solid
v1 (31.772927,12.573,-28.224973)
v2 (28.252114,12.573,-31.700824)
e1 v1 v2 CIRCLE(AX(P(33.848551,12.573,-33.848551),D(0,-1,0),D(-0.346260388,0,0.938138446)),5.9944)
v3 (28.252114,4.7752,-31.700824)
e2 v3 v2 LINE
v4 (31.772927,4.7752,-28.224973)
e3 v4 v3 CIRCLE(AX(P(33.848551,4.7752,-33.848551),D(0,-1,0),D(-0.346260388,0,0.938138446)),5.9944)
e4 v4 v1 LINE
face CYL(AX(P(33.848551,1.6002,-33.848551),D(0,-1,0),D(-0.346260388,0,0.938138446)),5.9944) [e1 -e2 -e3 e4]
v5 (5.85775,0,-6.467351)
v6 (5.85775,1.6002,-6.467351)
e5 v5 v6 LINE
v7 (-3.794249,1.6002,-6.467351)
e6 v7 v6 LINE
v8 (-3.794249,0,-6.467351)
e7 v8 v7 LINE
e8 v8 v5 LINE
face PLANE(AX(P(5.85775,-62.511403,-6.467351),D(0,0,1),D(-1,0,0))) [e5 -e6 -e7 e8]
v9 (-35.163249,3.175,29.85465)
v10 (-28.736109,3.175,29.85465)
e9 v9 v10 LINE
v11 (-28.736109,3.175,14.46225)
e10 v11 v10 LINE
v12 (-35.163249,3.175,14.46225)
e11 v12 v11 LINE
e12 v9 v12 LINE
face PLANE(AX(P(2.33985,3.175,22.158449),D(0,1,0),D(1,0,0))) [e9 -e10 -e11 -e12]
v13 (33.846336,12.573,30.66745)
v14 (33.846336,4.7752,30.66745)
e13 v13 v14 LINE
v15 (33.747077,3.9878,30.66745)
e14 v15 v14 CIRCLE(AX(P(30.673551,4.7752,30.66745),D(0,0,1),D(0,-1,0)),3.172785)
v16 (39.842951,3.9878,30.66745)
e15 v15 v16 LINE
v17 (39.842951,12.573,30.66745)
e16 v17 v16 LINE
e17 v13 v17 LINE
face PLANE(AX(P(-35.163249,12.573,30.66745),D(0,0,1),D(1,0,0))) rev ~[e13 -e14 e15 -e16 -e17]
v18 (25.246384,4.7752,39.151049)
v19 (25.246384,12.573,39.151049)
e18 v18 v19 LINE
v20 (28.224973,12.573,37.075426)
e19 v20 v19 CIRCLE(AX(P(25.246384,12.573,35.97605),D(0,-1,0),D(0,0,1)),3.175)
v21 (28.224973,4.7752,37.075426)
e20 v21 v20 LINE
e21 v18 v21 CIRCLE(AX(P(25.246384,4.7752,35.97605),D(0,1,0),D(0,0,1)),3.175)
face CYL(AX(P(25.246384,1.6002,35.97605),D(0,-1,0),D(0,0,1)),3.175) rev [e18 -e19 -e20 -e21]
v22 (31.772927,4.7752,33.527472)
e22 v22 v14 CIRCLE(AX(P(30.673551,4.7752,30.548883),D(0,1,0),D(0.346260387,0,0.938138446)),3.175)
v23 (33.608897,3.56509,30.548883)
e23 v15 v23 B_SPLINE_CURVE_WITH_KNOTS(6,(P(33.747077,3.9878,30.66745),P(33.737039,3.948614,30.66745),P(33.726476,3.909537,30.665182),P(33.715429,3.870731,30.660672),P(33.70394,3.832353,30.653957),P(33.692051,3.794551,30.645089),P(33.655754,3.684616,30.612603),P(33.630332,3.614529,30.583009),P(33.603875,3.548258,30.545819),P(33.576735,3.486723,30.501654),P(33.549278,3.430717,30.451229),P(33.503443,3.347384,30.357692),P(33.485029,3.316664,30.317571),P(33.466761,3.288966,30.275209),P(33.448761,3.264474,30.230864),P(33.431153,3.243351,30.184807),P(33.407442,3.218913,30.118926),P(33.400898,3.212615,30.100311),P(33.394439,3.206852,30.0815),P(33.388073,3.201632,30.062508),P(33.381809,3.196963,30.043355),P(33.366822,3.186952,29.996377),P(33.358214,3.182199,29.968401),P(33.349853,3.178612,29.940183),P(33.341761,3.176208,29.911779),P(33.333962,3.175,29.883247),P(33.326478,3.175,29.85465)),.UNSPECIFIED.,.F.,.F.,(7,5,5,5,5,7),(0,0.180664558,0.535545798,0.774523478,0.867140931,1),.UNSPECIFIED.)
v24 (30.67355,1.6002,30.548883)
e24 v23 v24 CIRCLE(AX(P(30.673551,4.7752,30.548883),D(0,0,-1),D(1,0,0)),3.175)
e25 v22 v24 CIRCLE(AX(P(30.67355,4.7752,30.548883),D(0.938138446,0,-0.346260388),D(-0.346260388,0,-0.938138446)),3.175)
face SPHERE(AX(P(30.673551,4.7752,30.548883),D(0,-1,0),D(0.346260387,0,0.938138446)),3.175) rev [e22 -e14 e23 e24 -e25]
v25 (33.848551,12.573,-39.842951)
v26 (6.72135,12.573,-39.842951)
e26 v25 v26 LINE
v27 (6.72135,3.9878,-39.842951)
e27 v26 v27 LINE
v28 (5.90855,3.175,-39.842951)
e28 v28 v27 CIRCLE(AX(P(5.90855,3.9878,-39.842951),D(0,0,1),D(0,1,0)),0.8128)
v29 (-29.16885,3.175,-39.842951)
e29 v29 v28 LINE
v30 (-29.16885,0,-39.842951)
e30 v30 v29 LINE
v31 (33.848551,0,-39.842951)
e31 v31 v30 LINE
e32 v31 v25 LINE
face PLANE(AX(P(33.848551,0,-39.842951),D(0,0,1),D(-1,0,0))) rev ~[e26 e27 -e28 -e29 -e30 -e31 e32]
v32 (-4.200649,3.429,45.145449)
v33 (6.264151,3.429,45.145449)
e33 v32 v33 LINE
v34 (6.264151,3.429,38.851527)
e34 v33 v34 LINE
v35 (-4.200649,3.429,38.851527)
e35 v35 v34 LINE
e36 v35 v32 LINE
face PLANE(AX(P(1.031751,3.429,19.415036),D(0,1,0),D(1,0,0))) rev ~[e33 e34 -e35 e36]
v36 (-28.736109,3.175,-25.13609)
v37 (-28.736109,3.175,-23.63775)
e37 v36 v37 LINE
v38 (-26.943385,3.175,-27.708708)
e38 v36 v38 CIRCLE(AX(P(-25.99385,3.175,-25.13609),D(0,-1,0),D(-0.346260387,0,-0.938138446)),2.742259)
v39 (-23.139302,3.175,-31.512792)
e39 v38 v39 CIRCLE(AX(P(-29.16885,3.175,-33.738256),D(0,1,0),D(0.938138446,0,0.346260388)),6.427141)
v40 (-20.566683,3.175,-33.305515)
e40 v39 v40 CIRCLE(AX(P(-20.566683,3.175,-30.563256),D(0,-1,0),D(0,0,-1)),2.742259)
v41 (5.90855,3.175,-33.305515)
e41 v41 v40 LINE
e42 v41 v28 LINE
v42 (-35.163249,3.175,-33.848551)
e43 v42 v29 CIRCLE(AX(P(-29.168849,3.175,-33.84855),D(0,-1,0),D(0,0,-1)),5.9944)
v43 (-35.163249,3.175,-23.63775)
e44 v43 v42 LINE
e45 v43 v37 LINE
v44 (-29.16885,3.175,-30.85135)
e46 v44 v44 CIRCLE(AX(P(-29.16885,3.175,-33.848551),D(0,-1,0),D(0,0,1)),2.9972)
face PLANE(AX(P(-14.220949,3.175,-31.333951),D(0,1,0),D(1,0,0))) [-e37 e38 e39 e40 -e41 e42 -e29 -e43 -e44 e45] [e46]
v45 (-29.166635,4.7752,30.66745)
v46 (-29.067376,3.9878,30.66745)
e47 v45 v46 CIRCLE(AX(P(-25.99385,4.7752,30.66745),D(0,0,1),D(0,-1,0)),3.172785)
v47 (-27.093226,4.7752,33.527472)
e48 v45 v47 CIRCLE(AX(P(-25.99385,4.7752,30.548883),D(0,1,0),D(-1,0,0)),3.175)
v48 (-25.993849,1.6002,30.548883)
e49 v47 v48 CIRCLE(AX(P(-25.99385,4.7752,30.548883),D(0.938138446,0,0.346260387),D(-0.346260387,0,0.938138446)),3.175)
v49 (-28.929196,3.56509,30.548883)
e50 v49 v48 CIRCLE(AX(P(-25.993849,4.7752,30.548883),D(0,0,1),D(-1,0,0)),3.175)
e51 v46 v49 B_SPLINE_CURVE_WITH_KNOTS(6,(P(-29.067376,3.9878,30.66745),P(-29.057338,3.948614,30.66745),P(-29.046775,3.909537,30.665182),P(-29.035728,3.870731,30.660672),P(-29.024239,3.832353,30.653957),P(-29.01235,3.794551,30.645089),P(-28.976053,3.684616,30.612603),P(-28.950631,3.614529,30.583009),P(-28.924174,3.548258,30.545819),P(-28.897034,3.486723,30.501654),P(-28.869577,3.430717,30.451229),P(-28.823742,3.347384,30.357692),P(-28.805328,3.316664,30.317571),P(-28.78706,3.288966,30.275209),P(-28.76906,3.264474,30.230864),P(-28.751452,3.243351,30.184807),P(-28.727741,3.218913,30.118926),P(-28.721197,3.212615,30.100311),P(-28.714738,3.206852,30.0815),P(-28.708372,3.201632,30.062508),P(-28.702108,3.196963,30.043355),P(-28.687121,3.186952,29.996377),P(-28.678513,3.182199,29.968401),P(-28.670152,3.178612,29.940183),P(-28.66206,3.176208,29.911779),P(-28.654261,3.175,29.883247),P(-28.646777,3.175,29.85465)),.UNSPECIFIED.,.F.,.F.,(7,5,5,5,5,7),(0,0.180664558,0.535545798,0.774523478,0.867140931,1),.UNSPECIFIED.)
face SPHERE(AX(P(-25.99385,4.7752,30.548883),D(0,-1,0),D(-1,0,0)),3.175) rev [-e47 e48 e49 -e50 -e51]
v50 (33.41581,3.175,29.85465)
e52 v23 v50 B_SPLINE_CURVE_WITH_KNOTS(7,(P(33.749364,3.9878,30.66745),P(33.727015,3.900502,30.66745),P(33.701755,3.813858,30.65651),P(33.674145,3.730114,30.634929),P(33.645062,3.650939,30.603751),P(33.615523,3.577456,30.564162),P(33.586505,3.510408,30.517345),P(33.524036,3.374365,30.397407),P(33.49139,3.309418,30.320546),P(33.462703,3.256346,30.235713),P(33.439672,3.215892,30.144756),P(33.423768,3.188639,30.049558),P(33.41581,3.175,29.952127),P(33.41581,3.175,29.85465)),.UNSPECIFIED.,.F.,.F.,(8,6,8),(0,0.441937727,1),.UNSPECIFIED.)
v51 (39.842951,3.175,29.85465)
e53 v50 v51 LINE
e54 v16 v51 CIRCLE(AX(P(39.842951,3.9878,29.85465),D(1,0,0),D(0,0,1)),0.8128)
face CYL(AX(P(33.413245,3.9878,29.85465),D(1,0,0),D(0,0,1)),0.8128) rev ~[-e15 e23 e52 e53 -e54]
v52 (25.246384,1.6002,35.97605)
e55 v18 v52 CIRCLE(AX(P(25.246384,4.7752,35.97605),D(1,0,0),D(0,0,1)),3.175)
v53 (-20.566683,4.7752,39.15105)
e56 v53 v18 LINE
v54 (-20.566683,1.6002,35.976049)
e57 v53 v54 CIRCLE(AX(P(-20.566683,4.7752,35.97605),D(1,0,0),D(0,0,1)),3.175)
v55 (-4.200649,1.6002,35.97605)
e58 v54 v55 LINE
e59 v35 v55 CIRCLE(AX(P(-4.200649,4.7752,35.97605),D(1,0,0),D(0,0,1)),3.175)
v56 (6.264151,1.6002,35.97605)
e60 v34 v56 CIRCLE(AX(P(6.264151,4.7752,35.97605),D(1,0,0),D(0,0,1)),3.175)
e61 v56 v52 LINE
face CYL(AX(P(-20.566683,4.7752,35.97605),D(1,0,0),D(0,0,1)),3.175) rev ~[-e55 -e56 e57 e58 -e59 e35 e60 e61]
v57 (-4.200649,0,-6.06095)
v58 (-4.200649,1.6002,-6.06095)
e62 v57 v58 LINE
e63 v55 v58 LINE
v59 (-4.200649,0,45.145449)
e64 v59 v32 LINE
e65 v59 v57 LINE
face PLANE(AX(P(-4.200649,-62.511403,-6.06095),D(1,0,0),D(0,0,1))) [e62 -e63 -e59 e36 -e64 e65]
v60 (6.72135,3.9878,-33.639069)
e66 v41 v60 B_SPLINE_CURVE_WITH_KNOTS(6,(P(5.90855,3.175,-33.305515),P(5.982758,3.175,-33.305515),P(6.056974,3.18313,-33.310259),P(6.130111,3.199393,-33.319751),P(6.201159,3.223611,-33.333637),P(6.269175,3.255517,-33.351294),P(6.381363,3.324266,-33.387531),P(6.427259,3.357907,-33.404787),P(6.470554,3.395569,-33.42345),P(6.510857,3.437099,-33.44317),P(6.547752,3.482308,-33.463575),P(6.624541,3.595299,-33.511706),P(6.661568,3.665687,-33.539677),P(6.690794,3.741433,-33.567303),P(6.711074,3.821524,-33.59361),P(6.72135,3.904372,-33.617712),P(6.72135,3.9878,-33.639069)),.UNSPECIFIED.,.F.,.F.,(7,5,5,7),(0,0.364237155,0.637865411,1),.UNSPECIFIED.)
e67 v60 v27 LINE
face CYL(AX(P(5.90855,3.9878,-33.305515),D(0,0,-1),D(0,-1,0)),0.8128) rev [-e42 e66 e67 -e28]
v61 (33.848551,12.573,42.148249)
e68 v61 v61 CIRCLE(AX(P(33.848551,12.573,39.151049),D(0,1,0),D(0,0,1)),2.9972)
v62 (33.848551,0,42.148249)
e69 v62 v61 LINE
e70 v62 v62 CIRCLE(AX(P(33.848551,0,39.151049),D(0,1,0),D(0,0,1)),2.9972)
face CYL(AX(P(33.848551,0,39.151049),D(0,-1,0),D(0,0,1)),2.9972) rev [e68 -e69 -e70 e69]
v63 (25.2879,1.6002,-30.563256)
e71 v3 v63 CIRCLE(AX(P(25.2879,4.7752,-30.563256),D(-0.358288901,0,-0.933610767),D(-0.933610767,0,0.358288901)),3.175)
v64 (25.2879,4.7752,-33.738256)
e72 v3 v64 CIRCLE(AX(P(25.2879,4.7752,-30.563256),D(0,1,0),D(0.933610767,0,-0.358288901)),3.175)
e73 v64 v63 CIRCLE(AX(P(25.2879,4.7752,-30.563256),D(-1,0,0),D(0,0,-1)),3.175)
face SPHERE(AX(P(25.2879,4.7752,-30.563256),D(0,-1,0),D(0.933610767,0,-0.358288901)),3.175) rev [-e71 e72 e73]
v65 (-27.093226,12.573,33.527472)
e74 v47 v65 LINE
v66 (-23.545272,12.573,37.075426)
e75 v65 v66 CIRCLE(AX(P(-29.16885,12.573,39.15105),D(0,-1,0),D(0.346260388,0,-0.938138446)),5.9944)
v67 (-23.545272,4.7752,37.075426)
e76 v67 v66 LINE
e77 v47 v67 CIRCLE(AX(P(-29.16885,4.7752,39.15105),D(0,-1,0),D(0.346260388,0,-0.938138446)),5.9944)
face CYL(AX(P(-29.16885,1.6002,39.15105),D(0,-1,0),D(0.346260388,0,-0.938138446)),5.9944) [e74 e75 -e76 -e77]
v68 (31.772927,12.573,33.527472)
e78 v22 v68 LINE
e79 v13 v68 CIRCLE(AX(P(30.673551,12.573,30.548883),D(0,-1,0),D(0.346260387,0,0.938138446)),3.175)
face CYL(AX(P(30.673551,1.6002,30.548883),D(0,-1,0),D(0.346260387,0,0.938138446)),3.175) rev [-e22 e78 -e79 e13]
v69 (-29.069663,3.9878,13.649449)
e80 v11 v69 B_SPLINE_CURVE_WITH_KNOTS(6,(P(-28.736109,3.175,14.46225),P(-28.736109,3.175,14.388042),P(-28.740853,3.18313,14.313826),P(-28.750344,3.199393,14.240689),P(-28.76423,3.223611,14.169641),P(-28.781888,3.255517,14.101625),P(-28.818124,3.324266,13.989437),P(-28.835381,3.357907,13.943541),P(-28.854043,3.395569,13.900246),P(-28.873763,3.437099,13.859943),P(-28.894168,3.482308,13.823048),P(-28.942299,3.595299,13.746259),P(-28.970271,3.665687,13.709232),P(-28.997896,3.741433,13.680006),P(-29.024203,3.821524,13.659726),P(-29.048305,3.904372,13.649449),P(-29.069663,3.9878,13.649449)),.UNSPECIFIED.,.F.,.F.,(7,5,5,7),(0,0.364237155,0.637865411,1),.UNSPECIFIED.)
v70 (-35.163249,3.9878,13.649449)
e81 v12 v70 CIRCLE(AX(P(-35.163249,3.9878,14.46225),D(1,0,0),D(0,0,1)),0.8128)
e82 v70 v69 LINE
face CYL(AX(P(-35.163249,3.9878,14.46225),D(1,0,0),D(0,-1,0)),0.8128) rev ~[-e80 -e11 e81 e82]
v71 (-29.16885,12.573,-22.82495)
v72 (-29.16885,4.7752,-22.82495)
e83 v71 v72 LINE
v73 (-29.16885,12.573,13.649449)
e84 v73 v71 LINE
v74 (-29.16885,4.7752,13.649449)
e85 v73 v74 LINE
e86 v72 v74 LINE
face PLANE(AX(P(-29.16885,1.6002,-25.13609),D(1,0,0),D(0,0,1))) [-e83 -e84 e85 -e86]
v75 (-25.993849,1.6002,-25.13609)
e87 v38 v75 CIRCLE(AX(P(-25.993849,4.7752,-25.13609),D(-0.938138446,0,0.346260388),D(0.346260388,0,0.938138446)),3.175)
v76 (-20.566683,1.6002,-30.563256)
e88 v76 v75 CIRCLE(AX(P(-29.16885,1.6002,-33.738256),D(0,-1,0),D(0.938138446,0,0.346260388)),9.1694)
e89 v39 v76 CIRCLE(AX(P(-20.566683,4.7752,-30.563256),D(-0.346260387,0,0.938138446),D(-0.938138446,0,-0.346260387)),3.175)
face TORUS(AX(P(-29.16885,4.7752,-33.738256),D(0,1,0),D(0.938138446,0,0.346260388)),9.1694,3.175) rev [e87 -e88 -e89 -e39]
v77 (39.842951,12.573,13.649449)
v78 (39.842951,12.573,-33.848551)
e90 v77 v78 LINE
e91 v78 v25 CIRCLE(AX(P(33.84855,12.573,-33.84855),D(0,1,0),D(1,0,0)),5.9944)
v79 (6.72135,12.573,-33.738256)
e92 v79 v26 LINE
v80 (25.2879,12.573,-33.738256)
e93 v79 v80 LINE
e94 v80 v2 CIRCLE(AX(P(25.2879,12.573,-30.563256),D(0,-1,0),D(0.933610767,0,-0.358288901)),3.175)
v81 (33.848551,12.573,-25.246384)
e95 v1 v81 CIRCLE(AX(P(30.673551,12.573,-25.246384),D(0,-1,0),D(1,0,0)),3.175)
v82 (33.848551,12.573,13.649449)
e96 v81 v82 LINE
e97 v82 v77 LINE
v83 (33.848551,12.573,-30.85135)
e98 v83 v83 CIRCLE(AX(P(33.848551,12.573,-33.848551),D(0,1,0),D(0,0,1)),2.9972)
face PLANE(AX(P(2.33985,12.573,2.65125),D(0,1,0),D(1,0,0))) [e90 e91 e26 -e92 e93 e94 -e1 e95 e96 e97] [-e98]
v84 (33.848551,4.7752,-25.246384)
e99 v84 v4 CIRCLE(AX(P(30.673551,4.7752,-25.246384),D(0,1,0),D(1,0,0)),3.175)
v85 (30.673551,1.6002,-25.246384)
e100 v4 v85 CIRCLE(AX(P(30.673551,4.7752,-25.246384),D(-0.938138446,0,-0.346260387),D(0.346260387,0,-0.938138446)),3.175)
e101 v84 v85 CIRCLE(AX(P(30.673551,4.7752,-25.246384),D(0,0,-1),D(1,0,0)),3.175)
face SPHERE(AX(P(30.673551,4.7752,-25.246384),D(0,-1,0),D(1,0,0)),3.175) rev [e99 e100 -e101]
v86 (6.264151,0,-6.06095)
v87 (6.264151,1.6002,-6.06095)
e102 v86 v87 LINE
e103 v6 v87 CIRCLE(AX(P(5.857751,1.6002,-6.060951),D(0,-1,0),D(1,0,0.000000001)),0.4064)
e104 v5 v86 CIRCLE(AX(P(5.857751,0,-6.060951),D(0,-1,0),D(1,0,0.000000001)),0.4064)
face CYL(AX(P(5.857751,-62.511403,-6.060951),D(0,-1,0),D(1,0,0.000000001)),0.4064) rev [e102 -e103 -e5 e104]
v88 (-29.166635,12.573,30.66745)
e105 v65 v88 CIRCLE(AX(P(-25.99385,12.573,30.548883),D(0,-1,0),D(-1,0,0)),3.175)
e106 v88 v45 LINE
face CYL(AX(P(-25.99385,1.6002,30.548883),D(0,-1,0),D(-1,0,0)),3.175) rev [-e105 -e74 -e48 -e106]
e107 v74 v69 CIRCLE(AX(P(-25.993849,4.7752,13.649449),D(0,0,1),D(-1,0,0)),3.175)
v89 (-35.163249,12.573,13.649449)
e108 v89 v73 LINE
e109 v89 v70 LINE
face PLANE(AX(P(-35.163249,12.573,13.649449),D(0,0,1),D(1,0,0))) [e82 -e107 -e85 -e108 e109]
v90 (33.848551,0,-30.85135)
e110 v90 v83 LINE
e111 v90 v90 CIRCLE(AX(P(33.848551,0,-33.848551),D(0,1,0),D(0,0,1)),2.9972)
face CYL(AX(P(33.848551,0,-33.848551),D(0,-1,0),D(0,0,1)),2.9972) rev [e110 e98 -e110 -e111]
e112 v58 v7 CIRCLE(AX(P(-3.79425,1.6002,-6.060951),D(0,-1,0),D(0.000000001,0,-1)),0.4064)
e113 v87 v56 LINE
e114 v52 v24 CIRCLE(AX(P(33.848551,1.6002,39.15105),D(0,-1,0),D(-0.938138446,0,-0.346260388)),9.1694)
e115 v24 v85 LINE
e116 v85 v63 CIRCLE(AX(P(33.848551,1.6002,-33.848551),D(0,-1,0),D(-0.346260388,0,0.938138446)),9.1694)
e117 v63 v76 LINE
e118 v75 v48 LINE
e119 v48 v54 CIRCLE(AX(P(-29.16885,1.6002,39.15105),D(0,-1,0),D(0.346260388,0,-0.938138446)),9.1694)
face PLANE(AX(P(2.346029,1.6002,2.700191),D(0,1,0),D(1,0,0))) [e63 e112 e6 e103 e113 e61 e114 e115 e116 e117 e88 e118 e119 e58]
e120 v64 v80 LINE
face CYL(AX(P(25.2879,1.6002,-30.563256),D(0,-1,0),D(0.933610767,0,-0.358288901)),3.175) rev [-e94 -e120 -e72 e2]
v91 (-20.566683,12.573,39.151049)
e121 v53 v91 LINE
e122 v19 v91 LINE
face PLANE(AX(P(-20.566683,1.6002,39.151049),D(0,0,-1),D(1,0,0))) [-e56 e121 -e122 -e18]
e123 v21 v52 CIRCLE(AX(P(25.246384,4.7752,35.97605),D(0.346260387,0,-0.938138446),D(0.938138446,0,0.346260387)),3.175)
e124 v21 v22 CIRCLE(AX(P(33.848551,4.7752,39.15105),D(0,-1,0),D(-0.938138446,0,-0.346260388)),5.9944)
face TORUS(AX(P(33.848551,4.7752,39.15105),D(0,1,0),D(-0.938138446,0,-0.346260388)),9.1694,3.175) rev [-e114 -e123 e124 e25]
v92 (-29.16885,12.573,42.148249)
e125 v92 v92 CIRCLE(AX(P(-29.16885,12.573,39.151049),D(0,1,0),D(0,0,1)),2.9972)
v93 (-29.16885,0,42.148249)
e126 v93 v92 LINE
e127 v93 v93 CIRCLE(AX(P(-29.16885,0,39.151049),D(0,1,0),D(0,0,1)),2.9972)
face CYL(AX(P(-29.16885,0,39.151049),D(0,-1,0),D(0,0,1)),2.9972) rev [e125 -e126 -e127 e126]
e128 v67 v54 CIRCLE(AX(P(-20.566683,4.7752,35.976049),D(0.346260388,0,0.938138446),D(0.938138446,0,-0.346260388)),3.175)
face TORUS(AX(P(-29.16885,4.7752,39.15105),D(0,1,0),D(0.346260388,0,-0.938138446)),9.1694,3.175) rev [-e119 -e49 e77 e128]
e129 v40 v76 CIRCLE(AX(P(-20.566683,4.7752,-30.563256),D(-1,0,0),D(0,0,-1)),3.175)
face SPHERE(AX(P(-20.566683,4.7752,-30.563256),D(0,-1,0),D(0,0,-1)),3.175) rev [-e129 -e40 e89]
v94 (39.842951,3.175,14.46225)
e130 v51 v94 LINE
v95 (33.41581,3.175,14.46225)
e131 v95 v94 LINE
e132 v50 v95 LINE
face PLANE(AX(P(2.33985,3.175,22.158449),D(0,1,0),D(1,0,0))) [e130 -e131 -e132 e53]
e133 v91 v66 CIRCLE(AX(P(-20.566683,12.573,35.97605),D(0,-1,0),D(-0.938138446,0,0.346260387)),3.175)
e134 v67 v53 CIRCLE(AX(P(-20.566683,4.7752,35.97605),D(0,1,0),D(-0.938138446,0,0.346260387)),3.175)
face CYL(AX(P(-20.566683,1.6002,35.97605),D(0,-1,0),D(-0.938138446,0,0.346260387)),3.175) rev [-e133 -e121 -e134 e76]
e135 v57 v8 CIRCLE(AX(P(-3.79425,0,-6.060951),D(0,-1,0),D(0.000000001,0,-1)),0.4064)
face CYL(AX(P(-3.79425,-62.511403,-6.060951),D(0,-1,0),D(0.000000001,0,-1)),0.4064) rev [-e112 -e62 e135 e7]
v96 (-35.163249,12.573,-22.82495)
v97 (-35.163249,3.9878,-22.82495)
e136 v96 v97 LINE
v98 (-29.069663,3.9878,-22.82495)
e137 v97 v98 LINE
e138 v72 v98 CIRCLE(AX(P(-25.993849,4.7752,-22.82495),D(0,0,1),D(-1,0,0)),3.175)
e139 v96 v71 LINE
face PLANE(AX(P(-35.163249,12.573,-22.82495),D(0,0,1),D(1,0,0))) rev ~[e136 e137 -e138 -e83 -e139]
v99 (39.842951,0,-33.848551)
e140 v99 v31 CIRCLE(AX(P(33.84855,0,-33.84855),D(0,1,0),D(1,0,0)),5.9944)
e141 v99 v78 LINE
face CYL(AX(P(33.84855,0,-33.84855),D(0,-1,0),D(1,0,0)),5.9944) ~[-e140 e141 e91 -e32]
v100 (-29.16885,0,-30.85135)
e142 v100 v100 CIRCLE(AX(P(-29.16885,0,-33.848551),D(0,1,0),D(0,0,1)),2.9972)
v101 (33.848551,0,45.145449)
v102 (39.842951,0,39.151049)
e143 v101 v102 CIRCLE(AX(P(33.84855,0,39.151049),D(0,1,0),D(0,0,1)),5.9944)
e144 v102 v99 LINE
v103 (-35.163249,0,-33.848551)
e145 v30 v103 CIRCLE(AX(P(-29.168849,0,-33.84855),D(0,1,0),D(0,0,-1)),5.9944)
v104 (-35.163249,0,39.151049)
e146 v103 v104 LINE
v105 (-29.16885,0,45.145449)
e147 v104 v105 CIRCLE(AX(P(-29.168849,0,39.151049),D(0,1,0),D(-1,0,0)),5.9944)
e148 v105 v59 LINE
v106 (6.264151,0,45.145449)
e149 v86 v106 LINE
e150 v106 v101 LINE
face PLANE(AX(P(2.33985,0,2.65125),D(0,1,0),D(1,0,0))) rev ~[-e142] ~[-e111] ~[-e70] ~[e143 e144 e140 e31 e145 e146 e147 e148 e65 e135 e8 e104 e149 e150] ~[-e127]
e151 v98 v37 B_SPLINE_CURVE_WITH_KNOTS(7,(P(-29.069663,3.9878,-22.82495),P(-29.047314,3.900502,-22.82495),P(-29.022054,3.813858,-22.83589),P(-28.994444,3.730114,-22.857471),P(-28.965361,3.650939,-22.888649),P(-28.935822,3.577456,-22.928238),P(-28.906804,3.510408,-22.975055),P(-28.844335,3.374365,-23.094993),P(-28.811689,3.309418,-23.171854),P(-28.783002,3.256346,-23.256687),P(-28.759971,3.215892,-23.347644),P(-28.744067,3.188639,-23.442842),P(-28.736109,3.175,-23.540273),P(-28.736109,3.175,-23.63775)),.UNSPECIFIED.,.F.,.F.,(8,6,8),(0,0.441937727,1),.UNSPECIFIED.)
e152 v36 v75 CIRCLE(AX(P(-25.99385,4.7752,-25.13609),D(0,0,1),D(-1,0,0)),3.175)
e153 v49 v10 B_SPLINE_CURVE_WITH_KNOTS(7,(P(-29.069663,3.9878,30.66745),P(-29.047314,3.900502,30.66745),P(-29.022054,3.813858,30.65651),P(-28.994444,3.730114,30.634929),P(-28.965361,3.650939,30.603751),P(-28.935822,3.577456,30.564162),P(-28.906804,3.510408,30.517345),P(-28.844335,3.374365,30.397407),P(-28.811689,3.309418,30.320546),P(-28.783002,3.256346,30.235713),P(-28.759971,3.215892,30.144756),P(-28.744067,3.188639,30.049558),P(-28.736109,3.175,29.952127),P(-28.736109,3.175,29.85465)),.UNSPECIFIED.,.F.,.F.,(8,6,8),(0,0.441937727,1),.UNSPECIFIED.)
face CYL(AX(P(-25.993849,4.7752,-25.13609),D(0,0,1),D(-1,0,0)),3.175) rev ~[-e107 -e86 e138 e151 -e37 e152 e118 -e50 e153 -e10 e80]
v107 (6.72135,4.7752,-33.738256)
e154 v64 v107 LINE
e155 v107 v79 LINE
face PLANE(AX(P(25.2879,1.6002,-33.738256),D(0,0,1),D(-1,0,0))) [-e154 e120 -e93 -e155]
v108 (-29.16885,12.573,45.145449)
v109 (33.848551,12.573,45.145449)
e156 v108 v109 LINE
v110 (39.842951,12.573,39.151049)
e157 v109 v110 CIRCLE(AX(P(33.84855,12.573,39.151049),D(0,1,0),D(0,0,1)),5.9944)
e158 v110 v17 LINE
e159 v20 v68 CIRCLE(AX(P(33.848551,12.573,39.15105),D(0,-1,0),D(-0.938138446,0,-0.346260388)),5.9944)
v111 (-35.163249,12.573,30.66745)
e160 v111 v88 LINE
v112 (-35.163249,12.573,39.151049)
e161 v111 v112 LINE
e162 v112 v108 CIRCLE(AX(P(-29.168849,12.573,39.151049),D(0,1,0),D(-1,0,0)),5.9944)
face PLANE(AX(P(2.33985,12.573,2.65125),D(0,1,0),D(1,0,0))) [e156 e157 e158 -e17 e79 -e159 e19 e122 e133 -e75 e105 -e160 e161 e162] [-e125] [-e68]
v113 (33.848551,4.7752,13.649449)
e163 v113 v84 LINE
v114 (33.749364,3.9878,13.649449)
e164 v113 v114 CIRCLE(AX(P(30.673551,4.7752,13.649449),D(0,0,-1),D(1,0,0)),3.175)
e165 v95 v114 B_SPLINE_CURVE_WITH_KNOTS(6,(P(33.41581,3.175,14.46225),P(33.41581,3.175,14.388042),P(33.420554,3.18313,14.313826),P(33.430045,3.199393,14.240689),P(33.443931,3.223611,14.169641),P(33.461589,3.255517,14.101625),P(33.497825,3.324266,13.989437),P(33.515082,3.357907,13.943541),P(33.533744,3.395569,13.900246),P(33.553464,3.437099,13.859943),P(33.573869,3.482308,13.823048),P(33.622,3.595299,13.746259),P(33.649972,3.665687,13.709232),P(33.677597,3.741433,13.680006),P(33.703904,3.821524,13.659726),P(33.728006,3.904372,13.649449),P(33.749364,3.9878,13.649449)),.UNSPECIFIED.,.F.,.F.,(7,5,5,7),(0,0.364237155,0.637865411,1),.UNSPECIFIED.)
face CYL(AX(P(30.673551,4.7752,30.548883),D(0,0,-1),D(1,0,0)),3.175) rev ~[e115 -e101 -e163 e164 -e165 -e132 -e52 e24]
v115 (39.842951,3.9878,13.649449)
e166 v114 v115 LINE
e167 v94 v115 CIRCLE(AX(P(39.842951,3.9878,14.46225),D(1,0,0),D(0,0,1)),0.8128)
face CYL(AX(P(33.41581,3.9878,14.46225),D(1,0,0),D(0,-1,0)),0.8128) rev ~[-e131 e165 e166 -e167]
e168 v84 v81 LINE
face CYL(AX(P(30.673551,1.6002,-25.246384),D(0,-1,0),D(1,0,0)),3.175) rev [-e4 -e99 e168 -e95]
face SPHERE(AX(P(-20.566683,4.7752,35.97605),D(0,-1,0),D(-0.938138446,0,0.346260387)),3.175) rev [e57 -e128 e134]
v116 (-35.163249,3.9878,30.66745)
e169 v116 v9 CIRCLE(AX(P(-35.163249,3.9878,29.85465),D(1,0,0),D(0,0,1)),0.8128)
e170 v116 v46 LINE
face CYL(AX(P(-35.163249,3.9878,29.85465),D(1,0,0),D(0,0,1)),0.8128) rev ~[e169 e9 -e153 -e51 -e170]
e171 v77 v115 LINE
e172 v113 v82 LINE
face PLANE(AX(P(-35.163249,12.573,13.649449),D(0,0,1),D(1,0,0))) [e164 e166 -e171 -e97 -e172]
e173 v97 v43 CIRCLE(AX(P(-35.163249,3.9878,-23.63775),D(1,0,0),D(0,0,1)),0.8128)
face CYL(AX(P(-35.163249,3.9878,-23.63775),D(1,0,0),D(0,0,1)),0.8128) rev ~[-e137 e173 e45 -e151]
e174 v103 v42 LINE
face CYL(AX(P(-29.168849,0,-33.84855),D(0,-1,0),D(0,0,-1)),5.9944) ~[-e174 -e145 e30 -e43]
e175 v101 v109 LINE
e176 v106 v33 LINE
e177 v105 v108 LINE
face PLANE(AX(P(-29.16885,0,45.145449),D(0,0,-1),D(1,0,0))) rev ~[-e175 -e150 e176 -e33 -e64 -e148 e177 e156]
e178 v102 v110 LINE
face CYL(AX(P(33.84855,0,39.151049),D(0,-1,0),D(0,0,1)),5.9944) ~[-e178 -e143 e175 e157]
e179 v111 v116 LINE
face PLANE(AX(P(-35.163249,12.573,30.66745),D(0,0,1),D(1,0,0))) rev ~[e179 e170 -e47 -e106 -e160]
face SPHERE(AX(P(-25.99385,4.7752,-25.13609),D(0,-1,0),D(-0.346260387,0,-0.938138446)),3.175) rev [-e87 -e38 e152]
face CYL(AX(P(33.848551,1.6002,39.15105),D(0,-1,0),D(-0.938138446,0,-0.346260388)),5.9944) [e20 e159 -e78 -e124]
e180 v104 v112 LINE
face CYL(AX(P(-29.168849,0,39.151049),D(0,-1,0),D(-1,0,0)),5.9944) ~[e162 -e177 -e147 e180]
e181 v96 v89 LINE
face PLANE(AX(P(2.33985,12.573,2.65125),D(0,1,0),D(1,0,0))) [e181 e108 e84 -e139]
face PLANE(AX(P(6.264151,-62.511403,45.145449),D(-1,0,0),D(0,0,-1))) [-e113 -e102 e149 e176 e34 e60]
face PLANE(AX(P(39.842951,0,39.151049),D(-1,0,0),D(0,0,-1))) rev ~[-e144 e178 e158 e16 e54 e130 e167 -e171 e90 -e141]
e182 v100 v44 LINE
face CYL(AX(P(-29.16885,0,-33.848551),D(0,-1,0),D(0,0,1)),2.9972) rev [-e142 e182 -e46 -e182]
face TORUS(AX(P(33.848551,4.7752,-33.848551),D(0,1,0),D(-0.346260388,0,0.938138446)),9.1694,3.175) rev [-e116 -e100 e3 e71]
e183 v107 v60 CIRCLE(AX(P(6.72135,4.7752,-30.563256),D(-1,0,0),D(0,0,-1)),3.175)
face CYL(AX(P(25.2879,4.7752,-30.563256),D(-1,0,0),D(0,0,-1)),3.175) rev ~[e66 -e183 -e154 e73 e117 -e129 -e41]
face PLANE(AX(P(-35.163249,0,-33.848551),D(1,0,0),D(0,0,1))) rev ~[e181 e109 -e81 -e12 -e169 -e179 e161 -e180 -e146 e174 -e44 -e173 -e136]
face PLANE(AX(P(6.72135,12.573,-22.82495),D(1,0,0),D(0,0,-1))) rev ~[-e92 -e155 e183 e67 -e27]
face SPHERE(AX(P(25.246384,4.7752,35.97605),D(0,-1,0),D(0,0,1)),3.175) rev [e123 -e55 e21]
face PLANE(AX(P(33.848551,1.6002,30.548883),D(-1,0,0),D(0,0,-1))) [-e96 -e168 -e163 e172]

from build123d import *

# Parameters (mm, degrees)
SKETCH1_R               = 2.9972
BOSS_EXTRUDE1_DEPTH     = 12.573
CUT_EXTRUDE3_DEPTH      = 62.511402554
CUT_EXTRUDE3_DEPTH_BACK = 10.9728
FILLET1_R               = 3.175
CUT_EXTRUDE1_DEPTH      = 3.429
CUT_EXTRUDE1_DEPTH_BACK = 62.511402554
SKETCH6_W               = 75.0062
SKETCH6_H               = 17.018
SKETCH6_W_2             = 41.8846
CUT_EXTRUDE4_DEPTH      = 9.398
FILLET2_R               = 0.8128


with BuildPart() as part:
    # Sketch1 → Boss-Extrude1 (new body)
    with BuildSketch(Plane(origin=(0, 0, 0), x_dir=(1, 0, 0), z_dir=(0, 1, 0))):
        with BuildLine():
            Line((-29.1688495, -45.1454495), (33.8485505, -45.1454495))
            ThreePointArc((33.8485505, -45.1454495), (38.087231389, -43.389730389), (39.8429505, -39.1510495))
            Line((39.8429505, -39.1510495), (39.8429505, 33.8485505))
            ThreePointArc((39.8429505, 33.8485505), (38.087231389, 38.087231389), (33.8485505, 39.8429505))
            Line((33.8485505, 39.8429505), (-29.1688495, 39.8429505))
            ThreePointArc((-29.1688495, 39.8429505), (-33.407530389, 38.087231389), (-35.1632495, 33.8485505))
            Line((-35.1632495, 33.8485505), (-35.1632495, -39.1510495))
            ThreePointArc((-35.1632495, -39.1510495), (-33.407530389, -43.389730389), (-29.1688495, -45.1454495))
        make_face()
        with Locations(Location((-29.1688495, 33.8485505, 0), (0, 0, 270))):
            Circle(SKETCH1_R, mode=Mode.SUBTRACT)
        with Locations(Location((33.8485505, 33.8485505, 0), (0, 0, 270))):
            Circle(SKETCH1_R, mode=Mode.SUBTRACT)
        with Locations(Location((33.8485505, -39.1510495, 0), (0, 0, 270))):
            Circle(SKETCH1_R, mode=Mode.SUBTRACT)
        with Locations(Location((-29.1688495, -39.1510495, 0), (0, 0, 270))):
            Circle(SKETCH1_R, mode=Mode.SUBTRACT)
    extrude(amount=BOSS_EXTRUDE1_DEPTH)

    # Sketch5 → Cut-Extrude3 (cut, two sides: drawn at the far end of the back side and taken through both)
    with BuildSketch(Plane(origin=(0, 12.573, 0), x_dir=(1, 0, 0), z_dir=(0, 1, 0)).offset(-CUT_EXTRUDE3_DEPTH_BACK)):
        with BuildLine():
            Line((-20.566682833, -39.1510495), (25.246383833, -39.1510495))
            ThreePointArc((25.246383833, -39.1510495), (27.061611626, -38.580962754), (28.224973399, -37.075426231))
            ThreePointArc((28.224973399, -37.075426231), (29.609869611, -34.912368611), (31.772927231, -33.527472399))
            ThreePointArc((31.772927231, -33.527472399), (33.278463754, -32.364110626), (33.8485505, -30.548882833))
            Line((33.8485505, -30.548882833), (33.8485505, 25.246383833))
            ThreePointArc((33.8485505, 25.246383833), (33.278463754, 27.061611626), (31.772927231, 28.224973399))
            ThreePointArc((31.772927231, 28.224973399), (29.637195811, 29.582718454), (28.25211412, 31.700823514))
            ThreePointArc((28.25211412, 31.700823514), (27.086350512, 33.179780767), (25.287899936, 33.738256255))
            Line((25.287899936, 33.738256255), (-20.566682833, 33.738256255))
            ThreePointArc((-20.566682833, 33.738256255), (-22.381910626, 33.168169509), (-23.545272399, 31.662632986))
            ThreePointArc((-23.545272399, 31.662632986), (-24.930168611, 29.499575366), (-27.093226231, 28.114679154))
            ThreePointArc((-27.093226231, 28.114679154), (-28.598762754, 26.951317381), (-29.1688495, 25.136089588))
            Line((-29.1688495, 25.136089588), (-29.1688495, -30.548882833))
            ThreePointArc((-29.1688495, -30.548882833), (-28.598762754, -32.364110626), (-27.093226231, -33.527472399))
            ThreePointArc((-27.093226231, -33.527472399), (-24.930168611, -34.912368611), (-23.545272399, -37.075426231))
            ThreePointArc((-23.545272399, -37.075426231), (-22.381910626, -38.580962754), (-20.566682833, -39.1510495))
        make_face()
    extrude(amount=CUT_EXTRUDE3_DEPTH + CUT_EXTRUDE3_DEPTH_BACK, mode=Mode.SUBTRACT)

    # Fillet1
    fillet1_edges = [part.edges().sort_by_distance(p)[0] for p in [
        (-22.381910626, 1.6002, -33.168169509),
        (-24.930168611, 1.6002, -29.499575366),
        (-28.598762754, 1.6002, -26.951317381),
        (-29.1688495, 1.6002, 2.706396623),
        (2.3398505, 1.6002, 39.1510495),
        (27.061611626, 1.6002, 38.580962754),
        (29.609869611, 1.6002, 34.912368611),
        (33.278463754, 1.6002, 32.364110626),
        (33.8485505, 1.6002, 2.6512495),
        (33.278463754, 1.6002, -27.061611626),
        (29.637195811, 1.6002, -29.582718454),
        (27.086350512, 1.6002, -33.179780767),
        (2.360608551, 1.6002, -33.738256255),
        (-28.598762754, 1.6002, 32.364110626),
        (-24.930168611, 1.6002, 34.912368611),
        (-22.381910626, 1.6002, 38.580962754),
    ]]
    fillet(fillet1_edges, radius=FILLET1_R)

    # Sketch2 → Cut-Extrude1 (cut, two sides: drawn at the far end of the back side and taken through both)
    with BuildSketch(Plane(origin=(0, 0, 0), x_dir=(1, 0, 0), z_dir=(0, 1, 0)).offset(-CUT_EXTRUDE1_DEPTH_BACK)):
        with BuildLine():
            Line((-4.2006495, -45.1454495), (6.2641505, -45.1454495))
            Line((6.2641505, -45.1454495), (6.2641505, 6.0609505))
            ThreePointArc((6.2641505, 6.0609505), (6.145118696, 6.348318696), (5.8577505, 6.4673505))
            Line((5.8577505, 6.4673505), (-3.7942495, 6.4673505))
            ThreePointArc((-3.7942495, 6.4673505), (-4.081617696, 6.348318696), (-4.2006495, 6.0609505))
            Line((-4.2006495, 6.0609505), (-4.2006495, -45.1454495))
        make_face()
    extrude(amount=CUT_EXTRUDE1_DEPTH + CUT_EXTRUDE1_DEPTH_BACK, mode=Mode.SUBTRACT)

    # Sketch6 → Cut-Extrude4 (cut)
    with BuildSketch(Plane(origin=(0, 12.573, 0), x_dir=(1, 0, 0), z_dir=(0, 1, 0))):
        with Locations((2.3398505, -22.1584495)):
            Rectangle(SKETCH6_W, SKETCH6_H)
        with Locations((-14.2209495, 31.3339505)):
            Rectangle(SKETCH6_W_2, SKETCH6_H)
    extrude(amount=-CUT_EXTRUDE4_DEPTH, mode=Mode.SUBTRACT)

    # Fillet2
    fillet2_edges = [part.edges().sort_by_distance(p)[0] for p in [
        (36.629380049, 3.175, 13.6494495),
        (36.628097837, 3.175, 30.6674495),
        (-31.948396837, 3.175, 30.6674495),
        (-31.949679049, 3.175, 13.6494495),
        (-31.949679049, 3.175, -22.8249505),
        (6.7213505, 3.175, -36.574232926),
    ]]
    fillet(fillet2_edges, radius=FILLET2_R)


solid = part.part
